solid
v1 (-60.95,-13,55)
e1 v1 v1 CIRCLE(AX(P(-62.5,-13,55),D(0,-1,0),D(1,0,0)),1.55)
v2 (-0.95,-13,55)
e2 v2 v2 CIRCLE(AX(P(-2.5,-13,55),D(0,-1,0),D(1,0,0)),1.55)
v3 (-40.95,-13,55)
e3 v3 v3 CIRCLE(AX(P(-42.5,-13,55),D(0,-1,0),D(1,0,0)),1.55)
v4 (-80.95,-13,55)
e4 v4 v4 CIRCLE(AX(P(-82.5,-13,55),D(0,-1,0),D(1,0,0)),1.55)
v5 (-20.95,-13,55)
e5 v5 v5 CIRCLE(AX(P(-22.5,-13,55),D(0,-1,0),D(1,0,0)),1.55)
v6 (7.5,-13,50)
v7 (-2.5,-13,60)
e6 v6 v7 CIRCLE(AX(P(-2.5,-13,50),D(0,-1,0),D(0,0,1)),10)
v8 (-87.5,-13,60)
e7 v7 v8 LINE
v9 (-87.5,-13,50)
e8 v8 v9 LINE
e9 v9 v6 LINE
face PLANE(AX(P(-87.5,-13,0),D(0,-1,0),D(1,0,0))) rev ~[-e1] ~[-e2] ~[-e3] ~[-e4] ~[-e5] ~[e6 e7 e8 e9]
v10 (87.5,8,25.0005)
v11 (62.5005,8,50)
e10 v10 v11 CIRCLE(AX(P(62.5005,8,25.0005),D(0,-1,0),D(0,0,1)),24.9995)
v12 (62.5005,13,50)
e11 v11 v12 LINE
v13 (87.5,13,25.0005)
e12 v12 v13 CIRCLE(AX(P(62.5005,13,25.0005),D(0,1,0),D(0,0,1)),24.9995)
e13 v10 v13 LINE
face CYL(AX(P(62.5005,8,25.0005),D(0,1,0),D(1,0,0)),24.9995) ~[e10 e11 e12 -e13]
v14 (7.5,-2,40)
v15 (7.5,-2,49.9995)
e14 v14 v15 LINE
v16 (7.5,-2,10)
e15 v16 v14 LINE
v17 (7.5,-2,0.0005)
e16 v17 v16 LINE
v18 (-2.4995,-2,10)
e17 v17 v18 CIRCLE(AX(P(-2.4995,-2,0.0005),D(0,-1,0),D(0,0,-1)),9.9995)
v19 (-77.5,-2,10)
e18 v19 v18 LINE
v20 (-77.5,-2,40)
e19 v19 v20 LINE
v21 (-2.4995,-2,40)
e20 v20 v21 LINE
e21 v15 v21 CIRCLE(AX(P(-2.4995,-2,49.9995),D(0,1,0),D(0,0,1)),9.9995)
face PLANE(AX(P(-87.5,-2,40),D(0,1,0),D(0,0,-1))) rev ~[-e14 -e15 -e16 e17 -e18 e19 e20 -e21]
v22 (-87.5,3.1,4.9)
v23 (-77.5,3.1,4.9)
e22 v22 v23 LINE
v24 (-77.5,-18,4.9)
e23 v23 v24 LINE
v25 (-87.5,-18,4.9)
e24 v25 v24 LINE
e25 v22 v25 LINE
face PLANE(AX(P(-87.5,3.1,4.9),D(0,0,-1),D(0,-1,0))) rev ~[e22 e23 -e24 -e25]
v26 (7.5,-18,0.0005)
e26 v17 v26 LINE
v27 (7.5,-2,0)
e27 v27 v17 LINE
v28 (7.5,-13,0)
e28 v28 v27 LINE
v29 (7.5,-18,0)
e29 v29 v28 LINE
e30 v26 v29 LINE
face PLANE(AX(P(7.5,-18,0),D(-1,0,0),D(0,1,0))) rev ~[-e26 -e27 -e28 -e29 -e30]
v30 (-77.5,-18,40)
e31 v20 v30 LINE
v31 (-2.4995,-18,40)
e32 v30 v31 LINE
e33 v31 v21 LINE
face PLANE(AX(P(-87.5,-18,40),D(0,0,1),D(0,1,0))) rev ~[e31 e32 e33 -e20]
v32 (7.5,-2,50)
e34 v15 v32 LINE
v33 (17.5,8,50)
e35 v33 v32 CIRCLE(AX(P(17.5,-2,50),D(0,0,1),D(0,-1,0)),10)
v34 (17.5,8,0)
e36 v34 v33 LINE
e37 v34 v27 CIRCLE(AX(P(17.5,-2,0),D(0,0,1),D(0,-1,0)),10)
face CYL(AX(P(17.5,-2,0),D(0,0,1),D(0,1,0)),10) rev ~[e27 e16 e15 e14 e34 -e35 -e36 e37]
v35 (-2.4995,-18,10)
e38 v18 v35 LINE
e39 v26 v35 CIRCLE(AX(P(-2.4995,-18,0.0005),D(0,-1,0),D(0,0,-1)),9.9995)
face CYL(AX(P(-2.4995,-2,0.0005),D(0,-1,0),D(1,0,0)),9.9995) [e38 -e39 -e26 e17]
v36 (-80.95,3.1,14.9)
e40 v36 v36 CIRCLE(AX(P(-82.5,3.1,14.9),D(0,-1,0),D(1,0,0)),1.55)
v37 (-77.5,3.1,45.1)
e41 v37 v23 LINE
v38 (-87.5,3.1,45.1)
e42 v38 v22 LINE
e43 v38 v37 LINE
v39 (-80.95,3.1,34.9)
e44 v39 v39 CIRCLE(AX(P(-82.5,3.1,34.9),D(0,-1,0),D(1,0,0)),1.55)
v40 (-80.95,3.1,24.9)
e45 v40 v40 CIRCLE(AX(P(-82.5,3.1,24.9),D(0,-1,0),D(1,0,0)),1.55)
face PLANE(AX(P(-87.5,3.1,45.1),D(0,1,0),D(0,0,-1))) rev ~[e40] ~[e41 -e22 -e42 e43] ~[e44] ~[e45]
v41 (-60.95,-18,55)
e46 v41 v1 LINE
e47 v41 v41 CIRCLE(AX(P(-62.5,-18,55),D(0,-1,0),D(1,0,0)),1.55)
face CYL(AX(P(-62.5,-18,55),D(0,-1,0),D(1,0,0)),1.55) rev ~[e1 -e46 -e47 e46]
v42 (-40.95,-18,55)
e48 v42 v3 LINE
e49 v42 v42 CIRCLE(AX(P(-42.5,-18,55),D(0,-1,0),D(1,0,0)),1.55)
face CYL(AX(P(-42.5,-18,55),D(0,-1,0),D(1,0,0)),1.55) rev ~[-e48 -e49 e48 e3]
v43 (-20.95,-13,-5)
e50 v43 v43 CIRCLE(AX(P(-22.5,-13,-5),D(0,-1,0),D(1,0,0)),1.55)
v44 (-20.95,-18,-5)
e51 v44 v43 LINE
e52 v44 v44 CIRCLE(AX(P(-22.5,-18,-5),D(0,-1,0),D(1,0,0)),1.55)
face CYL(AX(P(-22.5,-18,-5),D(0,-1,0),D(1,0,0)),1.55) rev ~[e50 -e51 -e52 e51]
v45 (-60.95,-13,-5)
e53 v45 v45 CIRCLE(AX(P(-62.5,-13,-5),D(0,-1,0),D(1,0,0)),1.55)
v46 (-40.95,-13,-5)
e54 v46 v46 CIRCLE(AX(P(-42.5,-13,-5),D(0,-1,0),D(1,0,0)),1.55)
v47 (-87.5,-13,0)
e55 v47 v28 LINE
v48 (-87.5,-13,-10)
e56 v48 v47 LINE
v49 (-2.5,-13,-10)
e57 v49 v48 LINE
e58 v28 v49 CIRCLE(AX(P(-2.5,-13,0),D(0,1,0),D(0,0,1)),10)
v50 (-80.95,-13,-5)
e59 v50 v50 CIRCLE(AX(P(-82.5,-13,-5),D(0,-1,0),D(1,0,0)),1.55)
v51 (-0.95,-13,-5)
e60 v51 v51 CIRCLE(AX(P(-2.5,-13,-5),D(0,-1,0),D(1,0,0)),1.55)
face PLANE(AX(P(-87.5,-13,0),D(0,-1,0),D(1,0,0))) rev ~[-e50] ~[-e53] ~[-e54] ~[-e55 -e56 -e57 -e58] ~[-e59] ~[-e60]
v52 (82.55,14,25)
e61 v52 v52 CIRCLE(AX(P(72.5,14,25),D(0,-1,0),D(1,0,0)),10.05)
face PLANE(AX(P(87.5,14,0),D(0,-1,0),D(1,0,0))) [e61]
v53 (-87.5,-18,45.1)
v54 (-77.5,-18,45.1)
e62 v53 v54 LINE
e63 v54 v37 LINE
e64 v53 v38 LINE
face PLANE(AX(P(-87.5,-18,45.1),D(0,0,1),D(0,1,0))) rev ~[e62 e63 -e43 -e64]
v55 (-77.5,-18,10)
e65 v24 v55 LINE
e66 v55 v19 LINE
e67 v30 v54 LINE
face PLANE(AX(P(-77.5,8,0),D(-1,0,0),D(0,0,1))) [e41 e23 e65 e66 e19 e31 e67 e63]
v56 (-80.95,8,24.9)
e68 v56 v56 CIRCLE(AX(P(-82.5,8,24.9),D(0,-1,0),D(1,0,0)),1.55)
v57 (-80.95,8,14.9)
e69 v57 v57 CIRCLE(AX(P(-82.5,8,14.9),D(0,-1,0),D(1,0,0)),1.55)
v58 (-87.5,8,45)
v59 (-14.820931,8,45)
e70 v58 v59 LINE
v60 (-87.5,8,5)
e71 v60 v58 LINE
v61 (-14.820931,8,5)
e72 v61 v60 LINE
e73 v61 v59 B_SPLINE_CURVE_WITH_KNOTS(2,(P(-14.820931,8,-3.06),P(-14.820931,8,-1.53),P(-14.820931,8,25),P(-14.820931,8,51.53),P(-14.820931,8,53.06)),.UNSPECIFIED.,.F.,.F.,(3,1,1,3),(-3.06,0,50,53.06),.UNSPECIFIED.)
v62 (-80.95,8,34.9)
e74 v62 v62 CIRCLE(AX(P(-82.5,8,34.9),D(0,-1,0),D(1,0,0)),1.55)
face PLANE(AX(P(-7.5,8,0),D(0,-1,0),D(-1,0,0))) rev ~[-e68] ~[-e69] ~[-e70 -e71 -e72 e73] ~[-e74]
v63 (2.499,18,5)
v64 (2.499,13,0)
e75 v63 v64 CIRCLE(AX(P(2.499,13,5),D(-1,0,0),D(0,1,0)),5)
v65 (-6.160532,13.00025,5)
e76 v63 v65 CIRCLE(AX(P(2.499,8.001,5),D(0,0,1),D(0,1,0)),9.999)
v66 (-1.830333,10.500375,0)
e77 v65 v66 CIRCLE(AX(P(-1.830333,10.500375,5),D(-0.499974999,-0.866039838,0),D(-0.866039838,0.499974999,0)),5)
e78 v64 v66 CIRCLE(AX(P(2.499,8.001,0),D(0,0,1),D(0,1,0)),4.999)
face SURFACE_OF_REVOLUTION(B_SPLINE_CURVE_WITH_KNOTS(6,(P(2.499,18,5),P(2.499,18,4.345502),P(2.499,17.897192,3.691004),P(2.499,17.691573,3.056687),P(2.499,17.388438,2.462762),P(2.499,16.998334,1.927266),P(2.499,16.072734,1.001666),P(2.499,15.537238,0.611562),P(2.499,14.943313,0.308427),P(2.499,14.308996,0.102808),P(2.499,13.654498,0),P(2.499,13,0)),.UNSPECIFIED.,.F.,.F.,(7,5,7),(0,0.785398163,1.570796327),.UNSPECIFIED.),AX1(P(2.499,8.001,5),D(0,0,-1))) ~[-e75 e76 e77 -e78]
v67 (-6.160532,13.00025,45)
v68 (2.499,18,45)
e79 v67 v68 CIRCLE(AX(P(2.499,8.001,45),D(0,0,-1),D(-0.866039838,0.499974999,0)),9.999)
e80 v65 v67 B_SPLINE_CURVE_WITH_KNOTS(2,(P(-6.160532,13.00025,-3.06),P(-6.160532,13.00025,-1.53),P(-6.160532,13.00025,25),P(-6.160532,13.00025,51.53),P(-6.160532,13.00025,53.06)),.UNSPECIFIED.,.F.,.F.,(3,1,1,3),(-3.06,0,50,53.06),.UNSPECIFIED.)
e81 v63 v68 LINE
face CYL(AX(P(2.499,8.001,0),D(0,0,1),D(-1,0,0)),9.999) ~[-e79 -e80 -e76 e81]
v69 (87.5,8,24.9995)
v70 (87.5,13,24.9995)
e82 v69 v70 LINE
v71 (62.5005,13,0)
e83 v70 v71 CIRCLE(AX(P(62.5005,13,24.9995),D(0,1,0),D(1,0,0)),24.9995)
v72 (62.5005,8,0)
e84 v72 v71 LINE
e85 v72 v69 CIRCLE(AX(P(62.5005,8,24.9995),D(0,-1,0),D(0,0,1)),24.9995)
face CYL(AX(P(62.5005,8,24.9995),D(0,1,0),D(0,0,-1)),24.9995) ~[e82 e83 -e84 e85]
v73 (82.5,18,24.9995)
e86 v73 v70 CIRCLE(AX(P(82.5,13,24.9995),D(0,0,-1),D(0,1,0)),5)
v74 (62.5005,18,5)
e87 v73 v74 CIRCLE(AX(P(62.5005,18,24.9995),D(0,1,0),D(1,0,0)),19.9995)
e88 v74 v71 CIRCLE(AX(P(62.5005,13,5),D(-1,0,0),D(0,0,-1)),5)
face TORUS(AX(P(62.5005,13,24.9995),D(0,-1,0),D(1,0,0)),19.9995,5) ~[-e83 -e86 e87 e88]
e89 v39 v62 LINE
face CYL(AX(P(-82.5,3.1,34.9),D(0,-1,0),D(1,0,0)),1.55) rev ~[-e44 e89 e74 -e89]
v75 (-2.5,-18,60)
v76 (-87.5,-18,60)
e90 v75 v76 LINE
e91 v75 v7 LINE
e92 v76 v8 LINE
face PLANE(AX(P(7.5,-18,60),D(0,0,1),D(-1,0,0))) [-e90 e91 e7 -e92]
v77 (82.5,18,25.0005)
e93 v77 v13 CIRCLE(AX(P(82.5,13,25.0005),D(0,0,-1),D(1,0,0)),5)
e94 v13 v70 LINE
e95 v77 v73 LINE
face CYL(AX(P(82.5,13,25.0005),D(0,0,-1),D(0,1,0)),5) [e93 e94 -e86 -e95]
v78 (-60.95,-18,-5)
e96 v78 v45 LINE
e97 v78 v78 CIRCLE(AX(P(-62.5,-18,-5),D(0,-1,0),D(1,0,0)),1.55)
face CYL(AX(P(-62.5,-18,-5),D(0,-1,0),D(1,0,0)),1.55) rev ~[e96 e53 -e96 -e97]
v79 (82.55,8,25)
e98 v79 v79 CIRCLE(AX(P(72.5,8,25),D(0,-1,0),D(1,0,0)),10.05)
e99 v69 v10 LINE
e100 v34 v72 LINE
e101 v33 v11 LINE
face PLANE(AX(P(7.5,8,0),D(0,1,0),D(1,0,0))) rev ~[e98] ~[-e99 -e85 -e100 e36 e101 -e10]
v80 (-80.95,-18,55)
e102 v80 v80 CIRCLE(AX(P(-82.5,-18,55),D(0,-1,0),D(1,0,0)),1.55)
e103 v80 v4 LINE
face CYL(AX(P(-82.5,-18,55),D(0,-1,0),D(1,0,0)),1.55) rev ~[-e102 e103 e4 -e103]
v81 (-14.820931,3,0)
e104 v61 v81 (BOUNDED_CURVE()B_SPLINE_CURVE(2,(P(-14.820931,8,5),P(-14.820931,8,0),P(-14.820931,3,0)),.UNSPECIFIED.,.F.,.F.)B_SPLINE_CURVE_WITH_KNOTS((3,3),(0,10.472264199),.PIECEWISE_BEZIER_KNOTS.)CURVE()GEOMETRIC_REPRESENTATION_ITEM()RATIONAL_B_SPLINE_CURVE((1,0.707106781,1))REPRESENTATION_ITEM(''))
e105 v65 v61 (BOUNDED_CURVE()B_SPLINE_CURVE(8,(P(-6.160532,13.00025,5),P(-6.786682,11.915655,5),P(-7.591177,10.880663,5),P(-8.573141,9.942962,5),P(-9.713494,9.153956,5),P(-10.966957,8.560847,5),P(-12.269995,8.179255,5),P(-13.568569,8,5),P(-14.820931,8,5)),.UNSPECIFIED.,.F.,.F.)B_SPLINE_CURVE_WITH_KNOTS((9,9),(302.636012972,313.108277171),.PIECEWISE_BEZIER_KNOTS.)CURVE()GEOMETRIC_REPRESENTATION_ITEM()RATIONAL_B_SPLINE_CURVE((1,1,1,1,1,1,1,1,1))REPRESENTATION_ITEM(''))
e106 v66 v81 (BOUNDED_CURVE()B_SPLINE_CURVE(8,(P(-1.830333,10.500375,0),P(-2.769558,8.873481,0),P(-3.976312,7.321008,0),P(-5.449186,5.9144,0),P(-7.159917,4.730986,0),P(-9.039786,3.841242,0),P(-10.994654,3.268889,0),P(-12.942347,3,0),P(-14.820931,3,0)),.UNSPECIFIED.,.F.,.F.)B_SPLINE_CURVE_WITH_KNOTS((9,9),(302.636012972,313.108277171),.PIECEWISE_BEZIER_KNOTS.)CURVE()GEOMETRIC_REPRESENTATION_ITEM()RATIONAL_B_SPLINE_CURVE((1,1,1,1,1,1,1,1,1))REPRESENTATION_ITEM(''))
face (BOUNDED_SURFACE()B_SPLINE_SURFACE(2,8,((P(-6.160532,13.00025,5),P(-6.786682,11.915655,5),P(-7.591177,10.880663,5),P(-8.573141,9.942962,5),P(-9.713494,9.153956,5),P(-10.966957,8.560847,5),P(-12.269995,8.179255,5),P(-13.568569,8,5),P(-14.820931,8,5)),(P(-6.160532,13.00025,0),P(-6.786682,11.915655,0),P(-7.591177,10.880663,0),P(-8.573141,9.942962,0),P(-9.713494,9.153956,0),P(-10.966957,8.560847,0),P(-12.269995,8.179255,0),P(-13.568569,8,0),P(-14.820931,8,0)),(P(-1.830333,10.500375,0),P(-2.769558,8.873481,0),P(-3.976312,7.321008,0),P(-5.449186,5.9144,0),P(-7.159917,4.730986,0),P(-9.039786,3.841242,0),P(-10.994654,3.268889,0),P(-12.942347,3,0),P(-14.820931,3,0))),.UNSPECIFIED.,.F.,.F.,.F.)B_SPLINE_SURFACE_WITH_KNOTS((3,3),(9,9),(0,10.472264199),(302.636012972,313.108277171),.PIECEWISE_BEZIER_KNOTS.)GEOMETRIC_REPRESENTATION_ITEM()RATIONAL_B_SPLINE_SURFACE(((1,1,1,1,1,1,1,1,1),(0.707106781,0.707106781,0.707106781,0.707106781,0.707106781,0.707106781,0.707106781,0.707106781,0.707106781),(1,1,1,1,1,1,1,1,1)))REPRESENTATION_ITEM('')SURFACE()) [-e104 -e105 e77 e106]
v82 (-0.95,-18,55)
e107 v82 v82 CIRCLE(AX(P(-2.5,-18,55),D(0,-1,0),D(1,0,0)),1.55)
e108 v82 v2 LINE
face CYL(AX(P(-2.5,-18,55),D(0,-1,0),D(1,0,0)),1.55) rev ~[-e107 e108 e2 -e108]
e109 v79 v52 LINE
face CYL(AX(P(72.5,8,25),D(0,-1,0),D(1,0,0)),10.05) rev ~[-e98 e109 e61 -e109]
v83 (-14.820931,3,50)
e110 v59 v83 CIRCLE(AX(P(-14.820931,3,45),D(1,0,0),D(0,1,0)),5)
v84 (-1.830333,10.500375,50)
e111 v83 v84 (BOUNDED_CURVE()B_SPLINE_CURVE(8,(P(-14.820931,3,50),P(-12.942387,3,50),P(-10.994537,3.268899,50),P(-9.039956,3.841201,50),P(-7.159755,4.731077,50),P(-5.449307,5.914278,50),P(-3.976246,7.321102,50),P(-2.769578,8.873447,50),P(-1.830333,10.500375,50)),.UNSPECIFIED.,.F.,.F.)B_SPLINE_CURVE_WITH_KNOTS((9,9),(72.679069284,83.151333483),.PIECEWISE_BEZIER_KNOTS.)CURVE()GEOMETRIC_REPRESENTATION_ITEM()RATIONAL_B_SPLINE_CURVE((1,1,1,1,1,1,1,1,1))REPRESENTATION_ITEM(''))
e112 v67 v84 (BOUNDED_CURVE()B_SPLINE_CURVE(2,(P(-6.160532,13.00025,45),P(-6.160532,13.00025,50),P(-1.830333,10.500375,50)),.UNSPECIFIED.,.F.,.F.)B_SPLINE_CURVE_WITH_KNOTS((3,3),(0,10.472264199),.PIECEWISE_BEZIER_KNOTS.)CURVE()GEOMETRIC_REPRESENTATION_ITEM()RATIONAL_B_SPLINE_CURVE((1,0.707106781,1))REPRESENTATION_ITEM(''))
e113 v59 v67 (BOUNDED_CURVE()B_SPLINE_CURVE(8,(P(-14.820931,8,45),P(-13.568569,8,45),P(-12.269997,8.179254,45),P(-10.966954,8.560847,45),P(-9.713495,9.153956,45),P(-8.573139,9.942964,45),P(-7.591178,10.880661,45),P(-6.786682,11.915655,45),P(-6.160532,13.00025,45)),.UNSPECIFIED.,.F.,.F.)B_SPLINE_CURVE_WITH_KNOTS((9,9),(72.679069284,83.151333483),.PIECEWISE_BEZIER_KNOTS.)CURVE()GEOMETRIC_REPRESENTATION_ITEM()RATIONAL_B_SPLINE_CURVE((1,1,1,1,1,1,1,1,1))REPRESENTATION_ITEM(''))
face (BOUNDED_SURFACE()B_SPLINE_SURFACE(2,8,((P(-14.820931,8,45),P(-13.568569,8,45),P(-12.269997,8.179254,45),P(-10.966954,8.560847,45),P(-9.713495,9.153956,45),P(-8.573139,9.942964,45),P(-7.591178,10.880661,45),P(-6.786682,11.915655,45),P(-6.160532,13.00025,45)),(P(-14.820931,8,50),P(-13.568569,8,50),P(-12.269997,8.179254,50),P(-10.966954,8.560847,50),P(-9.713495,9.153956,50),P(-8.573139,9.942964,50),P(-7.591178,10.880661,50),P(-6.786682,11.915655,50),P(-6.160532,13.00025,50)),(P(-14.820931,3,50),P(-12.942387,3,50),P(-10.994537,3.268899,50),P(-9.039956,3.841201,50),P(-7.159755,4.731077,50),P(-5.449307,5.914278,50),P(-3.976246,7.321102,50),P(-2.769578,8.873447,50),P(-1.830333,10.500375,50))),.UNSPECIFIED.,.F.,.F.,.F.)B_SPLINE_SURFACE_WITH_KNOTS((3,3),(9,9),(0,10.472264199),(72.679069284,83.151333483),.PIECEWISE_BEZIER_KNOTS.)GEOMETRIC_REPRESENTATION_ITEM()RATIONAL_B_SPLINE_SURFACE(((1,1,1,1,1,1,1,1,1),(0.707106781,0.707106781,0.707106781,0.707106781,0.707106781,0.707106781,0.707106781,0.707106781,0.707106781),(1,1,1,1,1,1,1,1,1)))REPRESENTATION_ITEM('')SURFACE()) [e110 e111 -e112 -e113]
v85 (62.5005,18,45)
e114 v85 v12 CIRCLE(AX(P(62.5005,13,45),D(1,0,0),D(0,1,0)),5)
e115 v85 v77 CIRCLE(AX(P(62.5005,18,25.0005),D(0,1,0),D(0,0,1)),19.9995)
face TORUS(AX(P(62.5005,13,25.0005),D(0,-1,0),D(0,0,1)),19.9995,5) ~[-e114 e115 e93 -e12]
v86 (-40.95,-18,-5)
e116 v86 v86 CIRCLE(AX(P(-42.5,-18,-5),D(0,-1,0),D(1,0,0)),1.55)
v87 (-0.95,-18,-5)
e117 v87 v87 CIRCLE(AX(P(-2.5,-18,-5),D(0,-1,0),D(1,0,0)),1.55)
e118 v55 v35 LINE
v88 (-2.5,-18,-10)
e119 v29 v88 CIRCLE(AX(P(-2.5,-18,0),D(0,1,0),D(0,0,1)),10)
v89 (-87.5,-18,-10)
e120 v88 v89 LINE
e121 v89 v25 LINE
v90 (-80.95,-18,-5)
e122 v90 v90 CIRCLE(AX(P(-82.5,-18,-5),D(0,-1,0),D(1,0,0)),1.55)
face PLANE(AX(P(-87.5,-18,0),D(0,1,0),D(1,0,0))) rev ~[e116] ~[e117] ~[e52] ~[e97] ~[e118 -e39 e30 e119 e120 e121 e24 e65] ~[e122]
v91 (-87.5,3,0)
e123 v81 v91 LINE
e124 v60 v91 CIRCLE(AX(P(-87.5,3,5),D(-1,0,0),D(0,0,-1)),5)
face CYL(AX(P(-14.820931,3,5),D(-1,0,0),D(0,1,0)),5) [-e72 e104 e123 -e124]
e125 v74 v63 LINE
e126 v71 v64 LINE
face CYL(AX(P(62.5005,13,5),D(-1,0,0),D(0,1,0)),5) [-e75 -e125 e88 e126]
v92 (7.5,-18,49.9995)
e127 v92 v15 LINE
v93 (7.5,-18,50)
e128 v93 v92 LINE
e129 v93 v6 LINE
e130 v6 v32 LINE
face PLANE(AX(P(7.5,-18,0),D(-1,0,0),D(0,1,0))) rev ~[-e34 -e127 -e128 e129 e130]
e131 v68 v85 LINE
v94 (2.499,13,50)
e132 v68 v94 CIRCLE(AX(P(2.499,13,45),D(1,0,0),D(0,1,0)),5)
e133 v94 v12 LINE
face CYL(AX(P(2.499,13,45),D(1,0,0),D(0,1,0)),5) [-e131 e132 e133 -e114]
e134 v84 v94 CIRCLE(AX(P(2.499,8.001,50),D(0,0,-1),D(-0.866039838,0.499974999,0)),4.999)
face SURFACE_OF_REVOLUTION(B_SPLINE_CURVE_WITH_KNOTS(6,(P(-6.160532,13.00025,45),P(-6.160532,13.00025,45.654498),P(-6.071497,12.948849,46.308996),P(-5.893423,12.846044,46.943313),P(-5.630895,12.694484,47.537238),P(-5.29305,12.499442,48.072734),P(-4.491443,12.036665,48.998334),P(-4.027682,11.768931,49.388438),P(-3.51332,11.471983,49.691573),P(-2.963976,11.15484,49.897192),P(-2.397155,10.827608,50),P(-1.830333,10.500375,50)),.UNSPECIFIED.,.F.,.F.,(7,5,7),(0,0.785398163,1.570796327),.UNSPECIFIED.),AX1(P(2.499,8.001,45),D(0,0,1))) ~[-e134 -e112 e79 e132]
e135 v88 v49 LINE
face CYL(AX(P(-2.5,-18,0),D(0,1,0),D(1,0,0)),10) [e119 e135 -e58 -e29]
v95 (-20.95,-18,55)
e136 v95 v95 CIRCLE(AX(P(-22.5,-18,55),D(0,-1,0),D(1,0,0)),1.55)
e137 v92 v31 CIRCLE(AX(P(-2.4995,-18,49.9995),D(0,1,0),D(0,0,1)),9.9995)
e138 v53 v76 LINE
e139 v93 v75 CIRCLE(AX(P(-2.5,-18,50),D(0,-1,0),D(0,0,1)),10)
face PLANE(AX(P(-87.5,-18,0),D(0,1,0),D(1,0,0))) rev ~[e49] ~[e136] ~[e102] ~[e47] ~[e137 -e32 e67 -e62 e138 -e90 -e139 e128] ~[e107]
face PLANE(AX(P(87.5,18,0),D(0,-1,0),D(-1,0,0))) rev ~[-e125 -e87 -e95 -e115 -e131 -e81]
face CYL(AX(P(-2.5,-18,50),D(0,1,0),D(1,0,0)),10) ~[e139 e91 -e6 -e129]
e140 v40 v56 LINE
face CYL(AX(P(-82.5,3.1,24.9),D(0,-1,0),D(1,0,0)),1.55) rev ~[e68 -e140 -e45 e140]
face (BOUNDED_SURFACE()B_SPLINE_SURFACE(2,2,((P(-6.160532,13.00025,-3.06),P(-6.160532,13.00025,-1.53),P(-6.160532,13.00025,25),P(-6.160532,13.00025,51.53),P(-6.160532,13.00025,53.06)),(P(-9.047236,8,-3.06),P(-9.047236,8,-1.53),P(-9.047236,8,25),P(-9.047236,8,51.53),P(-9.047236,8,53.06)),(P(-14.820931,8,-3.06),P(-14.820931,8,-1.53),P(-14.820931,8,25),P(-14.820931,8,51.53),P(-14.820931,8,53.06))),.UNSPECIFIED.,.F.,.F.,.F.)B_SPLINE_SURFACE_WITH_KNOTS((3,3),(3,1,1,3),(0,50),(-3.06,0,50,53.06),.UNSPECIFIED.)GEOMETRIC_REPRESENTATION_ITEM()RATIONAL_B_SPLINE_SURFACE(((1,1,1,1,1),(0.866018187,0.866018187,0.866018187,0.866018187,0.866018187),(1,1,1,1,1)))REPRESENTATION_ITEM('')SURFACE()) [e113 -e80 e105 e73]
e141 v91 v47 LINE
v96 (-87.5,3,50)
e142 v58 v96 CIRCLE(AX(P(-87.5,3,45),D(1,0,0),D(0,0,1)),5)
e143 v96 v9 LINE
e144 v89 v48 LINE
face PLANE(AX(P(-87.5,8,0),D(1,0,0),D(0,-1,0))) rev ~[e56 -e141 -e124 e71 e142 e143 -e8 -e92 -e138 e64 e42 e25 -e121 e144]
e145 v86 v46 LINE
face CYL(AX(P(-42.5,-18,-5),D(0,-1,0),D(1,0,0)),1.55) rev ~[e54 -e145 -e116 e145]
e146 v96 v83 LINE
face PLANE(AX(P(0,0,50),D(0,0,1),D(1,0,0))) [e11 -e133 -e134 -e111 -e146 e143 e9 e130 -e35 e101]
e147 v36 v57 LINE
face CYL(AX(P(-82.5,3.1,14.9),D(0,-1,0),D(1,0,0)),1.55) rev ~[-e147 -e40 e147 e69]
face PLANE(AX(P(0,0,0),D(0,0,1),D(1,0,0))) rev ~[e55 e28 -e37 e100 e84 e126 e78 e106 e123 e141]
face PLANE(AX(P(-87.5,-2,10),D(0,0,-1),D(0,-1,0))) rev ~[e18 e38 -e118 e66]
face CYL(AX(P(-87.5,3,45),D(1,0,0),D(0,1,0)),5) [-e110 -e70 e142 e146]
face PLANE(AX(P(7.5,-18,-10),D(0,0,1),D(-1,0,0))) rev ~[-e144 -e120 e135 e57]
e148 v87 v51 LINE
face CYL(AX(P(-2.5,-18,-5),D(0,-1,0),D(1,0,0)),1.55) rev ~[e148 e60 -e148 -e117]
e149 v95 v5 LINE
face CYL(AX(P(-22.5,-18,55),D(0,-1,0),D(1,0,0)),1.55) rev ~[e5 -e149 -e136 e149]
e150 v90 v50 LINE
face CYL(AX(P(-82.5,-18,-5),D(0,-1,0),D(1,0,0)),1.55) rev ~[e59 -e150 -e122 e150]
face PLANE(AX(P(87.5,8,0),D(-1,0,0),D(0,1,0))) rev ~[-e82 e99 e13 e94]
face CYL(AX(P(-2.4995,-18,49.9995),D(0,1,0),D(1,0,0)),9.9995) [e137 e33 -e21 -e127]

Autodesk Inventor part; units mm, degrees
ref_plane "YZ Plane" through (0, 0, 0) normal (1, 0, 0) x (0, 1, 0)
ref_plane "XZ Plane" through (0, 0, 0) normal (0, 1, 0) x (-1, 0, 0)
ref_plane "XY Plane" through (0, 0, 0) normal (0, 0, 1) x (1, 0, 0)
sketch "Sketch1" plane through (0, 0, 0) normal (0, 0, 1) x (1, 0, 0)
  line L0 (-87.5, -18) -> (87.5, -18)
  line L1 (87.5, -18) -> (87.5, 18)
  line L2 (87.5, 18) -> (-87.5, 18)
  line L3 (-87.5, 18) -> (-87.5, -18)
  line L4 (-87.5, -18) -> (87.5, 18) construction
  line L5 (87.5, -18) -> (-87.5, 18) construction
  line L6 (-87.5, 18) -> (-7.5, 18)
  line L7 (-7.5, 18) -> (-7.5, 8)
  line L8 (-7.5, 8) -> (-87.5, 8)
  line L9 (-87.5, 8) -> (-87.5, 18)
  line L10 (87.5, -18) -> (7.5, -18)
  line L11 (7.5, -18) -> (7.5, 8)
  line L12 (7.5, 8) -> (87.5, 8)
  line L13 (87.5, 8) -> (87.5, -18)
  point P0 (0, 0)
  point P1 (87.5, 8)
  point P2 (-7.5, 18)
  point P3 (7.5, -18)
  point P4 (72.5, 8)
  dimension "d1" = 36
  dimension "d2" = 80
  dimension "d3" = 10
  dimension "d4" = 80
  dimension "d5" = 26
  dimension "d62" = 15
  dimension "d63" = 160
extrude "Extrusion1" add sketch "Sketch1" along normal blind 50 contours L3 L8 L7 L2 L1 L12 L11 L0
fillet "Fillet1" radius 10 3 edges at (-7.5, 18, 25) (-7.5, 8, 25) (7.5, 8, 25)
sketch "Sketch2" plane through (-87.5, -18, 0) normal (-1, 0, 0) x (0, 0, 1)
  line L0 (10, 0) -> (40, 0)
  line L1 (40, 0) -> (40, 16)
  line L2 (40, 16) -> (10, 16)
  line L3 (10, 16) -> (10, 0)
  line L4 (0, 26) -> (0, 0) projected
  line L5 (50, 26) -> (50, 0) projected
  line L6 (0, 0) -> (50, 0) projected
  line L7 (0, 26) -> (50, 26) projected
  point P0 (0, 18)
  dimension "d9" = 10
  dimension "d10" = 10
  dimension "d11" = 10
extrude "Extrusion2" cut sketch "Sketch2" against normal through all contours L3 L2 L1 L0
sketch "Sketch3" plane through (87.5, 8, 0) normal (0, -1, 0) x (1, 0, 0)
  circle A0 centre (-15, 25) radius 10.05
  line L0 (0, 0) -> (0, 50) projected
  circle A1 centre (-15, 25) radius 15
  point P0 (-87.5, 0)
  point P1 (0, 25)
  dimension "d14" = 20.1
  dimension "d15" = 30
extrude "Extrusion3" cut sketch "Sketch3" against normal blind 6 contours A0
sketch "Sketch4" plane through (-87.5, -18, 0) normal (0, -1, 0) x (1, 0, 0)
  line L0 (0, 50) -> (95, 50) projected
  line L1 (0, 50) -> (95, 50)
  line L2 (95, 50) -> (95, 60)
  line L3 (95, 60) -> (0, 60)
  line L4 (0, 60) -> (0, 50)
  line L5 (95, 40) -> (95, 50) projected
  line L6 (0, 0) -> (0, 50) projected
  line L7 (0, 25) -> (90, 25)
  circle A0 centre (5, 55) radius 1.55
  circle A1 centre (25, 55) radius 1.55
  circle A2 centre (45, 55) radius 1.55
  circle A3 centre (65, 55) radius 1.55
  circle A4 centre (85, 55) radius 1.55
  line L8 (0, 0) -> (95, 0)
  line L9 (0, 0) -> (95, 0)
  line L10 (95, 0) -> (95, -10)
  line L11 (95, -10) -> (0, -10)
  line L12 (0, -10) -> (0, 0)
  circle A5 centre (5, -5) radius 1.55
  circle A6 centre (25, -5) radius 1.55
  circle A7 centre (45, -5) radius 1.55
  circle A8 centre (65, -5) radius 1.55
  circle A9 centre (85, -5) radius 1.55
  line L13 (0, 0) -> (95, 0)
  line L14 (0, 0) -> (95, 0)
  line L15 (95, 0) -> (95, -10)
  line L16 (95, -10) -> (0, -10)
  line L17 (0, -10) -> (0, 0)
  circle A10 centre (5, -5) radius 1.55
  circle A11 centre (25, -5) radius 1.55
  circle A12 centre (45, -5) radius 1.55
  circle A13 centre (65, -5) radius 1.55
  circle A14 centre (85, -5) radius 1.55
  point P0 (87.5, 0)
  point P1 (0, 55)
  point P2 (0, -5)
  dimension "d18" = 10
  dimension "d19" = 3.1
  dimension "d20" = 5
  dimension "d23" = 20
extrude "Extrusion4" add sketch "Sketch4" against normal blind 5
sketch "Sketch9" plane through (-87.5, 8, 0) normal (-1, 0, 0) x (0, 0, 1)
  line L0 (4.9, -26) -> (45.1, -26)
  line L1 (45.1, -26) -> (45.1, -4.9)
  line L2 (45.1, -4.9) -> (4.9, -4.9)
  line L3 (4.9, -4.9) -> (4.9, -26)
  line L4 (40, -26) -> (60, -26) projected
  line L5 (10, -26) -> (10, -10) projected
  line L6 (40, -10) -> (40, -26) projected
  line L7 (10, -10) -> (40, -10) projected
  point P0 (0, -8)
  point P1 (40, -26)
  dimension "d44" = 5.1
  dimension "d45" = 5.1
  dimension "d46" = 5.1
extrude "Extrusion7" cut sketch "Sketch9" against normal blind 10 contours L3 L2 L1 L0 L6 L7 L5
sketch "Sketch11" plane through (-87.5, 3.1, 4.9) normal (0, -1, 0) x (1, 0, 0)
  circle A0 centre (5, 10) radius 1.55
  line L0 (10, 0) -> (0, 0) projected
  line L1 (0, 40.2) -> (10, 40.2) projected
  line L2 (10, 0) -> (10, 40.2)
  circle A1 centre (5, 20) radius 1.55
  circle A2 centre (5, 30) radius 1.55
  point P0 (87.5, -4.9)
  point P1 (5, 0)
  dimension "d50" = 3.1
  dimension "d51" = 10
  dimension "d54" = 10
fillet "Fillet2" radius 25 2 edges at (87.5, 13, 50) (87.5, 13, 0)
extrude "Extrusion8" cut sketch "Sketch11" against normal blind 10
fillet "Fillet3" radius 10 2 edges at (7.5, -15.5, 60) (7.5, -15.5, -10)
fillet "Fillet4" radius 5 9 edges at (-2.5006, 16.6603, 50) (-9.8208, 9.3398, 50) (-51.1605, 8, 50) (80.1778, 18, 42.6778) (32.4997, 18, 0) (-2.5006, 16.6603, 0) (-9.8208, 9.3398, 0) (-51.1605, 8, 0) (32.4997, 18, 50)
fillet "Fillet6" radius 10 2 edges at (7.5, -10, 10) (7.5, -10, 40)
equation "\"screw_out_width\" = 7.5"
properties part number "pulley_case_part_2_v2"
